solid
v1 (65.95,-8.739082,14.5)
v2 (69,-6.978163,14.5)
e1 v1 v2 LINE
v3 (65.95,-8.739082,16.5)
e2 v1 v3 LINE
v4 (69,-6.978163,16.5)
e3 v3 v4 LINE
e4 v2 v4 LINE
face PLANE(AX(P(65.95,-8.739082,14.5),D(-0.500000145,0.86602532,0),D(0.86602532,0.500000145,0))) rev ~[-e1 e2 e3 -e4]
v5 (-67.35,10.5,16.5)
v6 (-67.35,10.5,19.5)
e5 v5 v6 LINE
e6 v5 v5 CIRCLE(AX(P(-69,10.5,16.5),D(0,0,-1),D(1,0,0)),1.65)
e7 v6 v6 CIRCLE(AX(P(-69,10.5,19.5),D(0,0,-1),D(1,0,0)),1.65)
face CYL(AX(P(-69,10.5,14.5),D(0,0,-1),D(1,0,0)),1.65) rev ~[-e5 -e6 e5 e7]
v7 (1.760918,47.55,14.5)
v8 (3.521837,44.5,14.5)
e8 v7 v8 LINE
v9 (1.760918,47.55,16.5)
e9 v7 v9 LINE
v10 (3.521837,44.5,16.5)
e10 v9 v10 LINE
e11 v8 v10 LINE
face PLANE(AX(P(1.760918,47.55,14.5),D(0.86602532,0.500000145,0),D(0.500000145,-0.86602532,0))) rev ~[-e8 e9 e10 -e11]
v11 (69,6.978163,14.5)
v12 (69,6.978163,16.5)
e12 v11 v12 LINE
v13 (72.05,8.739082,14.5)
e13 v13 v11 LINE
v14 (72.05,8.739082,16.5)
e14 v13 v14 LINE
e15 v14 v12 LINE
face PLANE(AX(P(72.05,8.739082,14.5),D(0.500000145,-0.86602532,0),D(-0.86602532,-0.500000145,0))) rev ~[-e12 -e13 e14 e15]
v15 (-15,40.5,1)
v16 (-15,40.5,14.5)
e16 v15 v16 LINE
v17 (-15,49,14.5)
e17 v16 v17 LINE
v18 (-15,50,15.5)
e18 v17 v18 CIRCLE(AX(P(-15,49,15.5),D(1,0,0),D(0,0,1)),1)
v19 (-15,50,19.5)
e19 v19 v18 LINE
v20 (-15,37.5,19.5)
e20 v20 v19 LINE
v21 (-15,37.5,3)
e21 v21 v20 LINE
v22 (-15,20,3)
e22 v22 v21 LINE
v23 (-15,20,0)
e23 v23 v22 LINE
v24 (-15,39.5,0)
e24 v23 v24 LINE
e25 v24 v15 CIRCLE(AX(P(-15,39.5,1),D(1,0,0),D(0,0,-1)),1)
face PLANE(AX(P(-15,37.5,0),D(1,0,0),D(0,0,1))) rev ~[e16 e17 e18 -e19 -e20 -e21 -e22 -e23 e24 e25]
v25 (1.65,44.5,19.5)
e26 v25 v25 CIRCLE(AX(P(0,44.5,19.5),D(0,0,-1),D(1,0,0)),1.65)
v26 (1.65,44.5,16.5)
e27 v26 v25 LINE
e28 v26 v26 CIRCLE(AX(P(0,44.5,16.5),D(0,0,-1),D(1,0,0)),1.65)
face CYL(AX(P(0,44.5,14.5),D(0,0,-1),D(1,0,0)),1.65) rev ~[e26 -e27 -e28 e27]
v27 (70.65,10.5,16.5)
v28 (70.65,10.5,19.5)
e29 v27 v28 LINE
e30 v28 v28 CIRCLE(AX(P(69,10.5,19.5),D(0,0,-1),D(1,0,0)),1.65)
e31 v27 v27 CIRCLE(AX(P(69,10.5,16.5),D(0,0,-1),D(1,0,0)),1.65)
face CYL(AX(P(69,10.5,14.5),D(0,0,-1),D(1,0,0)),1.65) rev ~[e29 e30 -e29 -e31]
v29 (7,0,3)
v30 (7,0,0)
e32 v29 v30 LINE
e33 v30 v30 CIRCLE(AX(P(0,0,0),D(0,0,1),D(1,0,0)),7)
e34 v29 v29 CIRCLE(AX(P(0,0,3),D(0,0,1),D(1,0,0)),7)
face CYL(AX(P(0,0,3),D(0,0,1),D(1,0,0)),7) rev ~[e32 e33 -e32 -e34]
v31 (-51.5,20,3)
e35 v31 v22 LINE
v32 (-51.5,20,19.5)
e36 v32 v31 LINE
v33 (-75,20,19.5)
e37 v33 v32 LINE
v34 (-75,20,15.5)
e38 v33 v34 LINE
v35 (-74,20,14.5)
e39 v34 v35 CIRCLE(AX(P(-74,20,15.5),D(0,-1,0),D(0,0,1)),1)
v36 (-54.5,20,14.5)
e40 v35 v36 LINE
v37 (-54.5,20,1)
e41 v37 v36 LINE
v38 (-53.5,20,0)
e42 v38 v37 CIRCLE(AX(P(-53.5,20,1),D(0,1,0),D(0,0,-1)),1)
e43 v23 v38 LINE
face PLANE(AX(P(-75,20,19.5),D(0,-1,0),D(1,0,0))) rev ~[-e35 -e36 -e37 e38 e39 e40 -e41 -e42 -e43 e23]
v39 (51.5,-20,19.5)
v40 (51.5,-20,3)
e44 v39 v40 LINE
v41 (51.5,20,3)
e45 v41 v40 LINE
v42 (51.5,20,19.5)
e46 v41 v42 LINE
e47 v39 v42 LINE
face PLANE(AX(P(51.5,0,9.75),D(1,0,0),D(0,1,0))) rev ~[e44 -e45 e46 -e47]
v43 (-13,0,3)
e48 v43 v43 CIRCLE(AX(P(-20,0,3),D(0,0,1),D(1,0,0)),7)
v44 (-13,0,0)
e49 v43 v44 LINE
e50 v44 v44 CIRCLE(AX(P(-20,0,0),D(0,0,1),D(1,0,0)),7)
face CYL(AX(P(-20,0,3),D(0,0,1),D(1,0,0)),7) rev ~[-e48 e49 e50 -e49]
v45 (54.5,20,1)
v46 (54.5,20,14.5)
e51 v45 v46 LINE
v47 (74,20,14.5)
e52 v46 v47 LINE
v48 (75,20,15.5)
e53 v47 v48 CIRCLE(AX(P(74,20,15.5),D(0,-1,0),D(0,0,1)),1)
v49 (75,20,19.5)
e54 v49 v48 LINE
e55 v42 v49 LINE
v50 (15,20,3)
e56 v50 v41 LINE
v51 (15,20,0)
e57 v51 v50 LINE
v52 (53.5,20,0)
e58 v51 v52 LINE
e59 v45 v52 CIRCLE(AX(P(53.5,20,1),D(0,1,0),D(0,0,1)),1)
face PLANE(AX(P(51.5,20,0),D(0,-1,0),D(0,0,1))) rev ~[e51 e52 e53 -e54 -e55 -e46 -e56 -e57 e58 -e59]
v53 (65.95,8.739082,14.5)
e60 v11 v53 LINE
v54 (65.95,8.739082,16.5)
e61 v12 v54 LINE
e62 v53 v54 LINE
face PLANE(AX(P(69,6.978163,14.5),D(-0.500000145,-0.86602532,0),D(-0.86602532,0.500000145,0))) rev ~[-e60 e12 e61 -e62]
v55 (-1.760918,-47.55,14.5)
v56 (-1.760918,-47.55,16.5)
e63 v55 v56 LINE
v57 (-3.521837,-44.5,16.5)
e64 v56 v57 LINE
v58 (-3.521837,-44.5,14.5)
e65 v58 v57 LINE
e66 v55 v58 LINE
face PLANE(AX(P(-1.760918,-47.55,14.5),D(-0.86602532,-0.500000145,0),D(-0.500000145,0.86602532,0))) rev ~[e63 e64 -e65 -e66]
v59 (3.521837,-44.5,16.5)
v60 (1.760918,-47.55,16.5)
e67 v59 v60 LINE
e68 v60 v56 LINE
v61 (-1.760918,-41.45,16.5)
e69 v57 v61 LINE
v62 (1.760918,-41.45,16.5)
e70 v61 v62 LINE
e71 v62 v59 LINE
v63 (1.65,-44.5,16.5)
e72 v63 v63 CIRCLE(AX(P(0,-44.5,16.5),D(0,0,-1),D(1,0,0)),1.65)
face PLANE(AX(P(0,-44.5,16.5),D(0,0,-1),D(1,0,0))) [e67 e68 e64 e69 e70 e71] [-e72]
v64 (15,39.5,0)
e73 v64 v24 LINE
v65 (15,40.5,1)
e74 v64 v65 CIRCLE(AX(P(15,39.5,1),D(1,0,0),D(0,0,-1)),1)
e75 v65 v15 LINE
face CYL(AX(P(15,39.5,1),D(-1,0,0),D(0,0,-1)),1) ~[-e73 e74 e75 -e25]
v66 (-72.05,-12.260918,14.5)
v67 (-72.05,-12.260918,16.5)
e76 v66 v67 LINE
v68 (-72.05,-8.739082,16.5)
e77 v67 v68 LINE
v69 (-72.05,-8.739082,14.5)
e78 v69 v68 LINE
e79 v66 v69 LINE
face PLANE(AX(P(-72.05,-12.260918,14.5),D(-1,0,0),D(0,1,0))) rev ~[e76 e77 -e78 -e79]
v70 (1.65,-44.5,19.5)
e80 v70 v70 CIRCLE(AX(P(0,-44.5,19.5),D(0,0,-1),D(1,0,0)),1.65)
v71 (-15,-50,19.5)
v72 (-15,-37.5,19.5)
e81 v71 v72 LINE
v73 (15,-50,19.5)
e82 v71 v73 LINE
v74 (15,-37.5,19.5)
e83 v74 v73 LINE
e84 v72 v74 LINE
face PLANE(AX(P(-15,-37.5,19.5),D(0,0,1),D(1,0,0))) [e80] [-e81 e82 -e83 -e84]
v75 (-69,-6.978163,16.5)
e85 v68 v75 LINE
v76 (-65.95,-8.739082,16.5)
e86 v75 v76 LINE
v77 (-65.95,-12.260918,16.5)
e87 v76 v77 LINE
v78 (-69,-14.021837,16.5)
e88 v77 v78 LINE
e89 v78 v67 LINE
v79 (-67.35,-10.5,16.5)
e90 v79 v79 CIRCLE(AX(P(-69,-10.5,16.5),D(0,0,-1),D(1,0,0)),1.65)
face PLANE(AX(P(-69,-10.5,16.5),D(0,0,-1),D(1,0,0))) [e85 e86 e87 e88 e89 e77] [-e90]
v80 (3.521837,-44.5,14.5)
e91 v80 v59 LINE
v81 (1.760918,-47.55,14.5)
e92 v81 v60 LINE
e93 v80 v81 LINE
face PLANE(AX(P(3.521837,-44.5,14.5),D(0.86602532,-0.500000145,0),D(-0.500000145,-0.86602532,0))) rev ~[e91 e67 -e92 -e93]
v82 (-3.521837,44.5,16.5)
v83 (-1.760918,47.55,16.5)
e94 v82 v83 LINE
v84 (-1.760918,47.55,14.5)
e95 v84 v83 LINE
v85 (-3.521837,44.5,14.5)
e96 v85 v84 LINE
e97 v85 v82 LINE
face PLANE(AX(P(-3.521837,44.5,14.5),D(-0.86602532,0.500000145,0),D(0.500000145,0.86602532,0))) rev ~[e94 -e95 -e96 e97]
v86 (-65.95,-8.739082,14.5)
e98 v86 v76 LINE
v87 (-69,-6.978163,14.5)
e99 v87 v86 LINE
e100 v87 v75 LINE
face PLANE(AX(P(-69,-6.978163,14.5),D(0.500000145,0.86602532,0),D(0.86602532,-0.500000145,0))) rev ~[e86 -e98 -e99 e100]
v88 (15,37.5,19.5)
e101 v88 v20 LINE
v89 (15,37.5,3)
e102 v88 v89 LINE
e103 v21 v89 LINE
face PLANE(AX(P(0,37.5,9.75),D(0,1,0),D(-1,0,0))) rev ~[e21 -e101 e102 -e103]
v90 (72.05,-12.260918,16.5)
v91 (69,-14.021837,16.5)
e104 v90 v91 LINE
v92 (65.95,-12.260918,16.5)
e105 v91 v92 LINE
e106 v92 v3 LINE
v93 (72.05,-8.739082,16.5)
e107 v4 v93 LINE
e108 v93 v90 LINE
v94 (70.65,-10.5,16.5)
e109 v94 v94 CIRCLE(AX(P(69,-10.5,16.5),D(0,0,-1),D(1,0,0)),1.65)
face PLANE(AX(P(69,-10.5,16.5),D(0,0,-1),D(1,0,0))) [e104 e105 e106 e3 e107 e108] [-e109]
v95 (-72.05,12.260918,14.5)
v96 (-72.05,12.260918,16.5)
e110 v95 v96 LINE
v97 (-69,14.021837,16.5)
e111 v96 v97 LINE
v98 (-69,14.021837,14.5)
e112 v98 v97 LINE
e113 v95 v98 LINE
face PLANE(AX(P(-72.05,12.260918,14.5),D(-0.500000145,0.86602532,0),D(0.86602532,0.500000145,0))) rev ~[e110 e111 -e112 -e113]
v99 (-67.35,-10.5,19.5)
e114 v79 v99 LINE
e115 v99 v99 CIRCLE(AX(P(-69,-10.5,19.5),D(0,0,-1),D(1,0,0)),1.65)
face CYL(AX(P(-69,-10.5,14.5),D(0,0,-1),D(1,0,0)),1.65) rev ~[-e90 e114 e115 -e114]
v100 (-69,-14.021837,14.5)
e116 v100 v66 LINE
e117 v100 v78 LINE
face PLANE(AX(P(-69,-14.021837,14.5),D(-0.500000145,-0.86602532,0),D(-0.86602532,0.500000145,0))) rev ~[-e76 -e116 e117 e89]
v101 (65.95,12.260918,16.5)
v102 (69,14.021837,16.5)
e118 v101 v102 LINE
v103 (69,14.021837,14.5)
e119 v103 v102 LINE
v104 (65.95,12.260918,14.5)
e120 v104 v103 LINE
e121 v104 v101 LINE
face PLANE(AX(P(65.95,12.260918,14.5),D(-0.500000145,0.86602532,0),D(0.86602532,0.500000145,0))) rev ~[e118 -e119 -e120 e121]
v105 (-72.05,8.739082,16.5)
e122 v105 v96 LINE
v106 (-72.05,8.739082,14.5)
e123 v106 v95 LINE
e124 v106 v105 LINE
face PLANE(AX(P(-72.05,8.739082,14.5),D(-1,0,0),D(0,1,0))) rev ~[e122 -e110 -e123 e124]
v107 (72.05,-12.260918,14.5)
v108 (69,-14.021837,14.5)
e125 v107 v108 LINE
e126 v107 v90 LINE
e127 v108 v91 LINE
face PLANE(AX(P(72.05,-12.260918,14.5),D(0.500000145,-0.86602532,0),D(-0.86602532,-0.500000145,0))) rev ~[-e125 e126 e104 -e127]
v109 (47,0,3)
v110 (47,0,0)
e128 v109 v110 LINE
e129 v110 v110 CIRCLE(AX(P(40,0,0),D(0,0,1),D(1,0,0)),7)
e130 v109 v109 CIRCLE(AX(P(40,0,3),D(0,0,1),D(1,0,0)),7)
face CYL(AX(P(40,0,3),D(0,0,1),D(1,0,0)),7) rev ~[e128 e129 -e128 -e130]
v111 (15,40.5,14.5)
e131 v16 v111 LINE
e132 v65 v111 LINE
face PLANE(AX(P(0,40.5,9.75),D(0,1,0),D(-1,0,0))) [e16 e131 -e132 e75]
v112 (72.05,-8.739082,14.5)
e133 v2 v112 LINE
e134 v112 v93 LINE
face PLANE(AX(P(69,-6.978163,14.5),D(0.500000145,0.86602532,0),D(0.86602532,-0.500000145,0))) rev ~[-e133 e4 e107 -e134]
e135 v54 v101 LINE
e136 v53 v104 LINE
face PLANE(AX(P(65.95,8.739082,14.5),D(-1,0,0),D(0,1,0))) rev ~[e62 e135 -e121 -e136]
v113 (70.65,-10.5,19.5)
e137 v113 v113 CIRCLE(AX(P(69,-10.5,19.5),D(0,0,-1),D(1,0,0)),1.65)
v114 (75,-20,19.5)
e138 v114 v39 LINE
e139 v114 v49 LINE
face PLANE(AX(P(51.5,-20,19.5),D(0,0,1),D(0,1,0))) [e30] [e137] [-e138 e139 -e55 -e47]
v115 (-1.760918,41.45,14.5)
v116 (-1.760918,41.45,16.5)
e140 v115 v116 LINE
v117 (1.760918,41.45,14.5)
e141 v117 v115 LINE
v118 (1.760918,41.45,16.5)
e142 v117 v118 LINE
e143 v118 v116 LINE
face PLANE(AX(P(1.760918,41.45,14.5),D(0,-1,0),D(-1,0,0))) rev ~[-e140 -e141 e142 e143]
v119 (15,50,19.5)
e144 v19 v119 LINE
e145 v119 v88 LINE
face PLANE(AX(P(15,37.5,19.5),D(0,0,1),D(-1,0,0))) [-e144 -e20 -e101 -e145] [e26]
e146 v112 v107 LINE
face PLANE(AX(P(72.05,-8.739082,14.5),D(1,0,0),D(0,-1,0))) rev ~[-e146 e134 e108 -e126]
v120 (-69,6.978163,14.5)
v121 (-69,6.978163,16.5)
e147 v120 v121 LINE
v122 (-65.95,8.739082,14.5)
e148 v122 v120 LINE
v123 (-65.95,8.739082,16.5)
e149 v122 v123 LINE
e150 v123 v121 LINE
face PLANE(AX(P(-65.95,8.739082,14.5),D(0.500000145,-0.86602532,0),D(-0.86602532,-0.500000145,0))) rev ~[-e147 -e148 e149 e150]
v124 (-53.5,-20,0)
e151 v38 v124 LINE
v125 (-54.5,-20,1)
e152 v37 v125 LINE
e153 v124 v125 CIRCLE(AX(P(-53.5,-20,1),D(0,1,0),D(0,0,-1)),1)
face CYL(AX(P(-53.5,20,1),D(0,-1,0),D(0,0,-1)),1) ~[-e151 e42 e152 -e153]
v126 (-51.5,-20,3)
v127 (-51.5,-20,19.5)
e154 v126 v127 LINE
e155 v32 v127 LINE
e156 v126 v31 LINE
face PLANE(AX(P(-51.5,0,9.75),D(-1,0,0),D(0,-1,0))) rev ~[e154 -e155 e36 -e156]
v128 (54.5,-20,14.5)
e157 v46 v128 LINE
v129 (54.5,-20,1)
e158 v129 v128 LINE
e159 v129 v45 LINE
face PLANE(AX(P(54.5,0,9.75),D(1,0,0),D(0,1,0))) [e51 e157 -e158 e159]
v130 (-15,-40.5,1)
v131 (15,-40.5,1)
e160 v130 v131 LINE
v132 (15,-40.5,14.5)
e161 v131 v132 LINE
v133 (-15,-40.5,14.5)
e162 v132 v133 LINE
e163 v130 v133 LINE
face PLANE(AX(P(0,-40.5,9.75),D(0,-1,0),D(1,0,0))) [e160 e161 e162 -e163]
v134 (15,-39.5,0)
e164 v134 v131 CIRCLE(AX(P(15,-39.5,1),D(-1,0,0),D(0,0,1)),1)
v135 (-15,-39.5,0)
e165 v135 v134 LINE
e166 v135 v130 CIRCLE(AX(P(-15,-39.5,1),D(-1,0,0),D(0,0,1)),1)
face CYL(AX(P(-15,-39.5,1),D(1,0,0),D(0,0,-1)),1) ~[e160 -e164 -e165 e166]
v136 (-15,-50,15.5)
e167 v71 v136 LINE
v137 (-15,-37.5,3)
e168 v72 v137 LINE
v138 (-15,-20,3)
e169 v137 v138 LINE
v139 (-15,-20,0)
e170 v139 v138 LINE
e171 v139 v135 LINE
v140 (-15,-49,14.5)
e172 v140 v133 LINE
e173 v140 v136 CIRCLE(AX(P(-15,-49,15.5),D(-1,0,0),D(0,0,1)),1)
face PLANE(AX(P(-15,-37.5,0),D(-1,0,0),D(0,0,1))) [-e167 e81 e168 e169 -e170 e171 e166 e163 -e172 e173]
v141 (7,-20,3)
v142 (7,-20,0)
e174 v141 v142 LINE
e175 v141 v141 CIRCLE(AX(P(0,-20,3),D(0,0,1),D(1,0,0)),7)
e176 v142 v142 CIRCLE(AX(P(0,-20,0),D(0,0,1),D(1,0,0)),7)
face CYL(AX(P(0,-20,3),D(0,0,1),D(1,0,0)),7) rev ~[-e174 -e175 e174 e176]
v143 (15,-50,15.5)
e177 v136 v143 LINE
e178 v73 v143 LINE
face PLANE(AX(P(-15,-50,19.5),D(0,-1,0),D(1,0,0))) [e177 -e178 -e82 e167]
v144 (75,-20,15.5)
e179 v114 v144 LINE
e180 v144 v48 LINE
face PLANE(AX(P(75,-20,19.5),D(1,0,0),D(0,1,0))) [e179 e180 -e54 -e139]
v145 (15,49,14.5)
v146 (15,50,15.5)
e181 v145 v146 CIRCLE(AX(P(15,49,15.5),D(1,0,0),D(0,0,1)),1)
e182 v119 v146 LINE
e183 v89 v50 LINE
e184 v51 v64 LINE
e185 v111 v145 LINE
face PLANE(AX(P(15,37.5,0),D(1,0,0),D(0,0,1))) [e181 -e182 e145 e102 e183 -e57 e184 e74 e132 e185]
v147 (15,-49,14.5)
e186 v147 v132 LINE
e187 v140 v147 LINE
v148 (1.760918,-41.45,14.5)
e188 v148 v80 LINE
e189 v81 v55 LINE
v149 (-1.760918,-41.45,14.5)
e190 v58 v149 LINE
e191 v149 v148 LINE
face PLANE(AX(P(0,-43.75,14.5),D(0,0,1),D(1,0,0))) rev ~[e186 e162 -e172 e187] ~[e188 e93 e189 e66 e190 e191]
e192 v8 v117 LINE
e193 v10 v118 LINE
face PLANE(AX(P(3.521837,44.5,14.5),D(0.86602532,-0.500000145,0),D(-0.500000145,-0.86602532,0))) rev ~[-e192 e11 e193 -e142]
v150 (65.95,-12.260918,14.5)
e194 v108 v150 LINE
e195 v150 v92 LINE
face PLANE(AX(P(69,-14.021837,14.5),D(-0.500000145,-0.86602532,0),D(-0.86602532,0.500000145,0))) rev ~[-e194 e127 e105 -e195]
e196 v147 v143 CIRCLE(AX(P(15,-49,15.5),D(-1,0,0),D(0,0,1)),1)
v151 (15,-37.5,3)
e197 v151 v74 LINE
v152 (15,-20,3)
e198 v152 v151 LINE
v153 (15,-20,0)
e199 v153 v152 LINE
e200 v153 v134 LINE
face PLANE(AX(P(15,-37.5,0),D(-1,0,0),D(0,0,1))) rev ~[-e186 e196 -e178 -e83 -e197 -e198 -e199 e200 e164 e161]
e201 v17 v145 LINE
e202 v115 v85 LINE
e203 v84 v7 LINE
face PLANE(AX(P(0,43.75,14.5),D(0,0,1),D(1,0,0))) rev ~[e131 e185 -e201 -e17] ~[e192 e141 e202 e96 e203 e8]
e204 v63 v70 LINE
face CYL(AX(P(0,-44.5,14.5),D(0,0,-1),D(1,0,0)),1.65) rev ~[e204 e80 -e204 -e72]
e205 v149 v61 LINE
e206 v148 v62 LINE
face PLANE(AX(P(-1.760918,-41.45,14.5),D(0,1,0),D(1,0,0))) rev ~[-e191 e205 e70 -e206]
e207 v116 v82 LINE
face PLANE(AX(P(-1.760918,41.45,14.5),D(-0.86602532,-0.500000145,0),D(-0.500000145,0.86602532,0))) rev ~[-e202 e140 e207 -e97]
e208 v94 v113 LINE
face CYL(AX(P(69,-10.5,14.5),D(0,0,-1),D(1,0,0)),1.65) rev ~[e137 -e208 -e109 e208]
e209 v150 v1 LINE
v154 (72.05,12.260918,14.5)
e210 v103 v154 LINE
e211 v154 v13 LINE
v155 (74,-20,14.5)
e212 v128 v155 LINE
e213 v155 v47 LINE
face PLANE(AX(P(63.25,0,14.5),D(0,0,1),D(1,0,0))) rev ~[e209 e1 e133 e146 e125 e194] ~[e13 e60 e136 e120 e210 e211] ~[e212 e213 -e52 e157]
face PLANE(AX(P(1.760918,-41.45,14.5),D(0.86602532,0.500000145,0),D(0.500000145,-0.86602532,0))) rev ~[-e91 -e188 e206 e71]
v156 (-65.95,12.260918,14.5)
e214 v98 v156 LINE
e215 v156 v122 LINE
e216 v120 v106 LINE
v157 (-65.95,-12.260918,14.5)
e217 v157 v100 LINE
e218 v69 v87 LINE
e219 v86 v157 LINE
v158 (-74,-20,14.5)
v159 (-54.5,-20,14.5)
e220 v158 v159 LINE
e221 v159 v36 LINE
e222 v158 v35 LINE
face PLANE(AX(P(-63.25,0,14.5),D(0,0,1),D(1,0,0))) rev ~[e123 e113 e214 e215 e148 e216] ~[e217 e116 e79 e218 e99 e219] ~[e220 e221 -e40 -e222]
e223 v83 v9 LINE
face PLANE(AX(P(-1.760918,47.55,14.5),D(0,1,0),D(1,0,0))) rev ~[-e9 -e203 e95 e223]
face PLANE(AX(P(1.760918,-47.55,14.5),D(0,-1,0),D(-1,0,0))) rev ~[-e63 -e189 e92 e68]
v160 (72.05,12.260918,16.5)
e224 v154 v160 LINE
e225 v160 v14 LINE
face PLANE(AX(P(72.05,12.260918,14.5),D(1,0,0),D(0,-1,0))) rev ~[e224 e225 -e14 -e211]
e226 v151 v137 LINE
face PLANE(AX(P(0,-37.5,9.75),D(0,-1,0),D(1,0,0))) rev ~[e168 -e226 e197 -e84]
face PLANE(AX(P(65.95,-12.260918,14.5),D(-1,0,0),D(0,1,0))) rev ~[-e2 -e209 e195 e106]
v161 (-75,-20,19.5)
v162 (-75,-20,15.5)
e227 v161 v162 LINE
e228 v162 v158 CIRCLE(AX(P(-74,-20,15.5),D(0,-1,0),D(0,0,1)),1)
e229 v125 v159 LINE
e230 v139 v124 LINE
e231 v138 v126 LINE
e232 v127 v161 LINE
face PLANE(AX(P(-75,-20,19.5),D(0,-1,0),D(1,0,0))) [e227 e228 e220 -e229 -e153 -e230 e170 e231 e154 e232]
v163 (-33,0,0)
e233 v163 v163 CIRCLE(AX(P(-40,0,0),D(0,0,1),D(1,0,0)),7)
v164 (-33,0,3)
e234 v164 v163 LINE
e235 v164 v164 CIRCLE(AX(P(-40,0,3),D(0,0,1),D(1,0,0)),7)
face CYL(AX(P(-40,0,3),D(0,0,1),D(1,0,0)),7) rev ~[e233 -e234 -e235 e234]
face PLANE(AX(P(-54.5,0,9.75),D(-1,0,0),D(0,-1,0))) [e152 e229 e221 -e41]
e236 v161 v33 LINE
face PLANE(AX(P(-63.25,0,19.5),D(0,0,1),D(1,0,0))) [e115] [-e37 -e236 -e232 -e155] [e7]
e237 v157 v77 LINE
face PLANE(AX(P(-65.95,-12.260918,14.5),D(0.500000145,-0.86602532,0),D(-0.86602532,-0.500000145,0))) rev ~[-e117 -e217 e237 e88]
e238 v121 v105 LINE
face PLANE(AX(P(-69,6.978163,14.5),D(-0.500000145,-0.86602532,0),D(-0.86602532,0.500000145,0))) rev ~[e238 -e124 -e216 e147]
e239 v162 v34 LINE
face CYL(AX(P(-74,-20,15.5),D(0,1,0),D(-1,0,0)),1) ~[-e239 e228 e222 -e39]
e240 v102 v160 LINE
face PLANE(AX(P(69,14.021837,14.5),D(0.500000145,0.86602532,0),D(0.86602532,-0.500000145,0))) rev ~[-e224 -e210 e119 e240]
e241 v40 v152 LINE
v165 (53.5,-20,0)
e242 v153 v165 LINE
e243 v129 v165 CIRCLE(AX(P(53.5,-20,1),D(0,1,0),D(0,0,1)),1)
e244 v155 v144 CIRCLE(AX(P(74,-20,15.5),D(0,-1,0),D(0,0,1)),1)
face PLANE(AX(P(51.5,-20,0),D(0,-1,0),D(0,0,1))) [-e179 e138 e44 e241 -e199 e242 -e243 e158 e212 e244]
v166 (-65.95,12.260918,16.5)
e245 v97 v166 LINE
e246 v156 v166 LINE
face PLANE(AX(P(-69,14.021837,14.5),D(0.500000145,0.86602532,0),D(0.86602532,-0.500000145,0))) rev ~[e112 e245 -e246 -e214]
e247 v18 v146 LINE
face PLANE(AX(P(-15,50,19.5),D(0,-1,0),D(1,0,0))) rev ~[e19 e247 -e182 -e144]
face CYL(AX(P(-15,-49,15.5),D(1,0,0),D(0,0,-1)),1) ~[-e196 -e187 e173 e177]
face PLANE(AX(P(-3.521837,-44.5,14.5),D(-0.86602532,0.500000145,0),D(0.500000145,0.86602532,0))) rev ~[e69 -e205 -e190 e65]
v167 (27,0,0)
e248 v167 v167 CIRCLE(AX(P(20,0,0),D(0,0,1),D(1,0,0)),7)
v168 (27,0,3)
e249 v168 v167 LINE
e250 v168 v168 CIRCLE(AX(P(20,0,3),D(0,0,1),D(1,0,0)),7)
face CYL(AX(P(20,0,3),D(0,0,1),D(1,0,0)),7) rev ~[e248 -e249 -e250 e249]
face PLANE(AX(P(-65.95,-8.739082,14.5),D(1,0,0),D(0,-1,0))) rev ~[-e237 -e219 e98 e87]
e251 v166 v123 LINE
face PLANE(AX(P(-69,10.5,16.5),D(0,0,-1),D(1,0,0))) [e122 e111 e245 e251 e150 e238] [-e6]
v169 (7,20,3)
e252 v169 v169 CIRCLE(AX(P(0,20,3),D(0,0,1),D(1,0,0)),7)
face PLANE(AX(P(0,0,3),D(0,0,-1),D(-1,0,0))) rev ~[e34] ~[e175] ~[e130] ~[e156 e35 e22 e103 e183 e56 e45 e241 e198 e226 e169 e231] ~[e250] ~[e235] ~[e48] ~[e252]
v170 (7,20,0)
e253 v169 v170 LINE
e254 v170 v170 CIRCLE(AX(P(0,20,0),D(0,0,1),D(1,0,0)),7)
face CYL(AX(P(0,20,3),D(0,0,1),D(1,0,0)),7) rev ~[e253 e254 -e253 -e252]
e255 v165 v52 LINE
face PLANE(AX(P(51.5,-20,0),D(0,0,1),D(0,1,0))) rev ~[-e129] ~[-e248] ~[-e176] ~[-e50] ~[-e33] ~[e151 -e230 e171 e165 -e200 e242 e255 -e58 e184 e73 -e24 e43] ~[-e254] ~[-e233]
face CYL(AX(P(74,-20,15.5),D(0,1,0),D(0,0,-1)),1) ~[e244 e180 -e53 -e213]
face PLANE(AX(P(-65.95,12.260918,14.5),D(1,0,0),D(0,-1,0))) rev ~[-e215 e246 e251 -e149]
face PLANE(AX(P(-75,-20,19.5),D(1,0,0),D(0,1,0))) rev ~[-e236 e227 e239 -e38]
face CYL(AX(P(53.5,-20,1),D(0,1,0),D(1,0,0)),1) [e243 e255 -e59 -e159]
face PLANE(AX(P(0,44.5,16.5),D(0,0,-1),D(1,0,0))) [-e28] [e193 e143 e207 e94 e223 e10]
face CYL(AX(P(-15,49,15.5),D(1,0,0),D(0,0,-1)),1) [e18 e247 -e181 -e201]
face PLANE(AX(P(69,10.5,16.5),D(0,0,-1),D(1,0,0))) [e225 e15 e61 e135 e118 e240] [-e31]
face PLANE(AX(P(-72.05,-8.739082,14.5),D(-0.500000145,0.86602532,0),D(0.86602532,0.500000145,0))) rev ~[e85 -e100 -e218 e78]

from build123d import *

# Parameters (mm, degrees)
PAD_DEPTH       = 3
SKETCH001_R     = 7
POCKET_DEPTH    = 3.001
SKETCH002_W     = 30
SKETCH002_H     = 19.5
PAD001_DEPTH    = 3
SKETCH003_W     = 30
SKETCH003_H     = 19.5
PAD002_DEPTH    = 3
SKETCH004_W     = 40
SKETCH004_H     = 19.5
PAD003_DEPTH    = 3
SKETCH005_W     = 40
SKETCH005_H     = 19.5
PAD004_DEPTH    = 3
SKETCH006_W     = 23.5
SKETCH006_H     = 40
SKETCH006_W_2   = 30
SKETCH006_H_2   = 12.5
PAD005_DEPTH    = 5
SKETCH007_R     = 1.65
POCKET001_DEPTH = 5.001
POCKET002_DEPTH = 2
FILLET_R        = 1
FILLET001_R     = 1
FILLET002_R     = 1
FILLET003_R     = 1
FILLET004_R     = 1
FILLET005_R     = 1
FILLET006_R     = 1
FILLET007_R     = 1


with BuildPart() as part:
    # Sketch → Pad (new body)
    with BuildSketch(Plane.XY):
        Polygon((-51.5, -20), (-51.5, 20), (-15, 20), (-15, 37.5), (15, 37.5), (15, 20), (51.5, 20), (51.5, -20), (15, -20), (15, -37.5), (-15, -37.5), (-15, -20), align=None)
    extrude(amount=PAD_DEPTH)

    # Sketch001 (on Face14 of Pad) → Pocket (cut, through all)
    with BuildSketch(Plane.XY.offset(3)):
        with Locations((-40, 0)):
            Circle(SKETCH001_R)
        with Locations((-20, 0)):
            Circle(SKETCH001_R)
        Circle(SKETCH001_R)
        with Locations((20, 0)):
            Circle(SKETCH001_R)
        with Locations((40, 0)):
            Circle(SKETCH001_R)
        with Locations((0, -20)):
            Circle(SKETCH001_R)
        with Locations((0, 20)):
            Circle(SKETCH001_R)
    extrude(amount=-POCKET_DEPTH, mode=Mode.SUBTRACT)

    # Sketch002 (on Face8 of Pocket) → Pad001 (join)
    with BuildSketch(Plane.XZ.offset(37.5)):
        with Locations((0, 9.75)):
            Rectangle(SKETCH002_W, SKETCH002_H)
    extrude(amount=PAD001_DEPTH)

    # Sketch003 (on Face9 of Pad001) → Pad002 (join)
    with BuildSketch(Plane(origin=(0, 37.5, 0), x_dir=(-1, 0, 0), z_dir=(0, 1, 0))):
        with Locations((0, 9.75)):
            Rectangle(SKETCH003_W, SKETCH003_H)
    extrude(amount=PAD002_DEPTH)

    # Sketch004 (on Face1 of Pad002) → Pad003 (join)
    with BuildSketch(Plane(origin=(-51.5, 0, 0), x_dir=(0, -1, 0), z_dir=(-1, 0, 0))):
        with Locations((0, 9.75)):
            Rectangle(SKETCH004_W, SKETCH004_H)
    extrude(amount=PAD003_DEPTH)

    # Sketch005 (on Face19 of Pad003) → Pad004 (join)
    with BuildSketch(Plane.YZ.offset(51.5)):
        with Locations((0, 9.75)):
            Rectangle(SKETCH005_W, SKETCH005_H)
    extrude(amount=PAD004_DEPTH)

    # Sketch006 (on Face8 of Pad004) → Pad005 (join)
    with BuildSketch(Plane.XY.offset(19.5)):
        with Locations((-63.25, 0)):
            Rectangle(SKETCH006_W, SKETCH006_H)
        with Locations((63.25, 0)):
            Rectangle(SKETCH006_W, SKETCH006_H)
        with Locations((0, 43.75)):
            Rectangle(SKETCH006_W_2, SKETCH006_H_2)
        with Locations((0, -43.75)):
            Rectangle(SKETCH006_W_2, SKETCH006_H_2)
    extrude(amount=-PAD005_DEPTH)

    # Sketch007 (on Face60 of Pad005) → Pocket001 (cut, through all)
    with BuildSketch(Plane(origin=(0, 0, 14.5), x_dir=(1, 0, 0), z_dir=(0, 0, -1))):
        with Locations((-69, 10.5)):
            Circle(SKETCH007_R)
        with Locations((69, 10.5)):
            Circle(SKETCH007_R)
        with Locations((0, 44.5)):
            Circle(SKETCH007_R)
        with Locations((0, -44.5)):
            Circle(SKETCH007_R)
        with Locations((-69, -10.5)):
            Circle(SKETCH007_R)
        with Locations((69, -10.5)):
            Circle(SKETCH007_R)
    extrude(amount=-POCKET001_DEPTH, mode=Mode.SUBTRACT)

    # Sketch008 (on Face36 of Pocket001) → Pocket002 (cut)
    with BuildSketch(Plane(origin=(0, 0, 14.5), x_dir=(1, 0, 0), z_dir=(0, 0, -1))):
        Polygon((-65.95, 8.739082), (-65.95, 12.260918), (-69, 14.021837), (-72.05, 12.260918), (-72.05, 8.739082), (-69, 6.978163), align=None)
        Polygon((-65.95, -12.260918), (-65.95, -8.739082), (-69, -6.978163), (-72.05, -8.739082), (-72.05, -12.260918), (-69, -14.021837), align=None)
        Polygon((72.05, 8.739082), (72.05, 12.260918), (69, 14.021837), (65.95, 12.260918), (65.95, 8.739082), (69, 6.978163), align=None)
        Polygon((72.05, -12.260918), (72.05, -8.739082), (69, -6.978163), (65.95, -8.739082), (65.95, -12.260918), (69, -14.021837), align=None)
        Polygon((1.760918, 41.45), (3.521837, 44.5), (1.760918, 47.55), (-1.760918, 47.55), (-3.521837, 44.5), (-1.760918, 41.45), align=None)
        Polygon((1.760918, -47.55), (3.521837, -44.5), (1.760918, -41.45), (-1.760918, -41.45), (-3.521837, -44.5), (-1.760918, -47.55), align=None)
    extrude(amount=-POCKET002_DEPTH, mode=Mode.SUBTRACT)

    # Fillet
    fillet_edges = [part.edges().sort_by_distance(p)[0] for p in [
        (-75, 0, 14.5),
    ]]
    fillet(fillet_edges, radius=FILLET_R)

    # Fillet001
    fillet001_edges = [part.edges().sort_by_distance(p)[0] for p in [
        (0, 50, 14.5),
    ]]
    fillet(fillet001_edges, radius=FILLET001_R)

    # Fillet002
    fillet002_edges = [part.edges().sort_by_distance(p)[0] for p in [
        (0, -50, 14.5),
    ]]
    fillet(fillet002_edges, radius=FILLET002_R)

    # Fillet003
    fillet003_edges = [part.edges().sort_by_distance(p)[0] for p in [
        (75, 0, 14.5),
    ]]
    fillet(fillet003_edges, radius=FILLET003_R)

    # Fillet004
    fillet004_edges = [part.edges().sort_by_distance(p)[0] for p in [
        (54.5, 0, 0),
    ]]
    fillet(fillet004_edges, radius=FILLET004_R)

    # Fillet005
    fillet005_edges = [part.edges().sort_by_distance(p)[0] for p in [
        (0, 40.5, 0),
    ]]
    fillet(fillet005_edges, radius=FILLET005_R)

    # Fillet006
    fillet006_edges = [part.edges().sort_by_distance(p)[0] for p in [
        (-54.5, 0, 0),
    ]]
    fillet(fillet006_edges, radius=FILLET006_R)

    # Fillet007
    fillet007_edges = [part.edges().sort_by_distance(p)[0] for p in [
        (0, -40.5, 0),
    ]]
    fillet(fillet007_edges, radius=FILLET007_R)


solid = part.part
